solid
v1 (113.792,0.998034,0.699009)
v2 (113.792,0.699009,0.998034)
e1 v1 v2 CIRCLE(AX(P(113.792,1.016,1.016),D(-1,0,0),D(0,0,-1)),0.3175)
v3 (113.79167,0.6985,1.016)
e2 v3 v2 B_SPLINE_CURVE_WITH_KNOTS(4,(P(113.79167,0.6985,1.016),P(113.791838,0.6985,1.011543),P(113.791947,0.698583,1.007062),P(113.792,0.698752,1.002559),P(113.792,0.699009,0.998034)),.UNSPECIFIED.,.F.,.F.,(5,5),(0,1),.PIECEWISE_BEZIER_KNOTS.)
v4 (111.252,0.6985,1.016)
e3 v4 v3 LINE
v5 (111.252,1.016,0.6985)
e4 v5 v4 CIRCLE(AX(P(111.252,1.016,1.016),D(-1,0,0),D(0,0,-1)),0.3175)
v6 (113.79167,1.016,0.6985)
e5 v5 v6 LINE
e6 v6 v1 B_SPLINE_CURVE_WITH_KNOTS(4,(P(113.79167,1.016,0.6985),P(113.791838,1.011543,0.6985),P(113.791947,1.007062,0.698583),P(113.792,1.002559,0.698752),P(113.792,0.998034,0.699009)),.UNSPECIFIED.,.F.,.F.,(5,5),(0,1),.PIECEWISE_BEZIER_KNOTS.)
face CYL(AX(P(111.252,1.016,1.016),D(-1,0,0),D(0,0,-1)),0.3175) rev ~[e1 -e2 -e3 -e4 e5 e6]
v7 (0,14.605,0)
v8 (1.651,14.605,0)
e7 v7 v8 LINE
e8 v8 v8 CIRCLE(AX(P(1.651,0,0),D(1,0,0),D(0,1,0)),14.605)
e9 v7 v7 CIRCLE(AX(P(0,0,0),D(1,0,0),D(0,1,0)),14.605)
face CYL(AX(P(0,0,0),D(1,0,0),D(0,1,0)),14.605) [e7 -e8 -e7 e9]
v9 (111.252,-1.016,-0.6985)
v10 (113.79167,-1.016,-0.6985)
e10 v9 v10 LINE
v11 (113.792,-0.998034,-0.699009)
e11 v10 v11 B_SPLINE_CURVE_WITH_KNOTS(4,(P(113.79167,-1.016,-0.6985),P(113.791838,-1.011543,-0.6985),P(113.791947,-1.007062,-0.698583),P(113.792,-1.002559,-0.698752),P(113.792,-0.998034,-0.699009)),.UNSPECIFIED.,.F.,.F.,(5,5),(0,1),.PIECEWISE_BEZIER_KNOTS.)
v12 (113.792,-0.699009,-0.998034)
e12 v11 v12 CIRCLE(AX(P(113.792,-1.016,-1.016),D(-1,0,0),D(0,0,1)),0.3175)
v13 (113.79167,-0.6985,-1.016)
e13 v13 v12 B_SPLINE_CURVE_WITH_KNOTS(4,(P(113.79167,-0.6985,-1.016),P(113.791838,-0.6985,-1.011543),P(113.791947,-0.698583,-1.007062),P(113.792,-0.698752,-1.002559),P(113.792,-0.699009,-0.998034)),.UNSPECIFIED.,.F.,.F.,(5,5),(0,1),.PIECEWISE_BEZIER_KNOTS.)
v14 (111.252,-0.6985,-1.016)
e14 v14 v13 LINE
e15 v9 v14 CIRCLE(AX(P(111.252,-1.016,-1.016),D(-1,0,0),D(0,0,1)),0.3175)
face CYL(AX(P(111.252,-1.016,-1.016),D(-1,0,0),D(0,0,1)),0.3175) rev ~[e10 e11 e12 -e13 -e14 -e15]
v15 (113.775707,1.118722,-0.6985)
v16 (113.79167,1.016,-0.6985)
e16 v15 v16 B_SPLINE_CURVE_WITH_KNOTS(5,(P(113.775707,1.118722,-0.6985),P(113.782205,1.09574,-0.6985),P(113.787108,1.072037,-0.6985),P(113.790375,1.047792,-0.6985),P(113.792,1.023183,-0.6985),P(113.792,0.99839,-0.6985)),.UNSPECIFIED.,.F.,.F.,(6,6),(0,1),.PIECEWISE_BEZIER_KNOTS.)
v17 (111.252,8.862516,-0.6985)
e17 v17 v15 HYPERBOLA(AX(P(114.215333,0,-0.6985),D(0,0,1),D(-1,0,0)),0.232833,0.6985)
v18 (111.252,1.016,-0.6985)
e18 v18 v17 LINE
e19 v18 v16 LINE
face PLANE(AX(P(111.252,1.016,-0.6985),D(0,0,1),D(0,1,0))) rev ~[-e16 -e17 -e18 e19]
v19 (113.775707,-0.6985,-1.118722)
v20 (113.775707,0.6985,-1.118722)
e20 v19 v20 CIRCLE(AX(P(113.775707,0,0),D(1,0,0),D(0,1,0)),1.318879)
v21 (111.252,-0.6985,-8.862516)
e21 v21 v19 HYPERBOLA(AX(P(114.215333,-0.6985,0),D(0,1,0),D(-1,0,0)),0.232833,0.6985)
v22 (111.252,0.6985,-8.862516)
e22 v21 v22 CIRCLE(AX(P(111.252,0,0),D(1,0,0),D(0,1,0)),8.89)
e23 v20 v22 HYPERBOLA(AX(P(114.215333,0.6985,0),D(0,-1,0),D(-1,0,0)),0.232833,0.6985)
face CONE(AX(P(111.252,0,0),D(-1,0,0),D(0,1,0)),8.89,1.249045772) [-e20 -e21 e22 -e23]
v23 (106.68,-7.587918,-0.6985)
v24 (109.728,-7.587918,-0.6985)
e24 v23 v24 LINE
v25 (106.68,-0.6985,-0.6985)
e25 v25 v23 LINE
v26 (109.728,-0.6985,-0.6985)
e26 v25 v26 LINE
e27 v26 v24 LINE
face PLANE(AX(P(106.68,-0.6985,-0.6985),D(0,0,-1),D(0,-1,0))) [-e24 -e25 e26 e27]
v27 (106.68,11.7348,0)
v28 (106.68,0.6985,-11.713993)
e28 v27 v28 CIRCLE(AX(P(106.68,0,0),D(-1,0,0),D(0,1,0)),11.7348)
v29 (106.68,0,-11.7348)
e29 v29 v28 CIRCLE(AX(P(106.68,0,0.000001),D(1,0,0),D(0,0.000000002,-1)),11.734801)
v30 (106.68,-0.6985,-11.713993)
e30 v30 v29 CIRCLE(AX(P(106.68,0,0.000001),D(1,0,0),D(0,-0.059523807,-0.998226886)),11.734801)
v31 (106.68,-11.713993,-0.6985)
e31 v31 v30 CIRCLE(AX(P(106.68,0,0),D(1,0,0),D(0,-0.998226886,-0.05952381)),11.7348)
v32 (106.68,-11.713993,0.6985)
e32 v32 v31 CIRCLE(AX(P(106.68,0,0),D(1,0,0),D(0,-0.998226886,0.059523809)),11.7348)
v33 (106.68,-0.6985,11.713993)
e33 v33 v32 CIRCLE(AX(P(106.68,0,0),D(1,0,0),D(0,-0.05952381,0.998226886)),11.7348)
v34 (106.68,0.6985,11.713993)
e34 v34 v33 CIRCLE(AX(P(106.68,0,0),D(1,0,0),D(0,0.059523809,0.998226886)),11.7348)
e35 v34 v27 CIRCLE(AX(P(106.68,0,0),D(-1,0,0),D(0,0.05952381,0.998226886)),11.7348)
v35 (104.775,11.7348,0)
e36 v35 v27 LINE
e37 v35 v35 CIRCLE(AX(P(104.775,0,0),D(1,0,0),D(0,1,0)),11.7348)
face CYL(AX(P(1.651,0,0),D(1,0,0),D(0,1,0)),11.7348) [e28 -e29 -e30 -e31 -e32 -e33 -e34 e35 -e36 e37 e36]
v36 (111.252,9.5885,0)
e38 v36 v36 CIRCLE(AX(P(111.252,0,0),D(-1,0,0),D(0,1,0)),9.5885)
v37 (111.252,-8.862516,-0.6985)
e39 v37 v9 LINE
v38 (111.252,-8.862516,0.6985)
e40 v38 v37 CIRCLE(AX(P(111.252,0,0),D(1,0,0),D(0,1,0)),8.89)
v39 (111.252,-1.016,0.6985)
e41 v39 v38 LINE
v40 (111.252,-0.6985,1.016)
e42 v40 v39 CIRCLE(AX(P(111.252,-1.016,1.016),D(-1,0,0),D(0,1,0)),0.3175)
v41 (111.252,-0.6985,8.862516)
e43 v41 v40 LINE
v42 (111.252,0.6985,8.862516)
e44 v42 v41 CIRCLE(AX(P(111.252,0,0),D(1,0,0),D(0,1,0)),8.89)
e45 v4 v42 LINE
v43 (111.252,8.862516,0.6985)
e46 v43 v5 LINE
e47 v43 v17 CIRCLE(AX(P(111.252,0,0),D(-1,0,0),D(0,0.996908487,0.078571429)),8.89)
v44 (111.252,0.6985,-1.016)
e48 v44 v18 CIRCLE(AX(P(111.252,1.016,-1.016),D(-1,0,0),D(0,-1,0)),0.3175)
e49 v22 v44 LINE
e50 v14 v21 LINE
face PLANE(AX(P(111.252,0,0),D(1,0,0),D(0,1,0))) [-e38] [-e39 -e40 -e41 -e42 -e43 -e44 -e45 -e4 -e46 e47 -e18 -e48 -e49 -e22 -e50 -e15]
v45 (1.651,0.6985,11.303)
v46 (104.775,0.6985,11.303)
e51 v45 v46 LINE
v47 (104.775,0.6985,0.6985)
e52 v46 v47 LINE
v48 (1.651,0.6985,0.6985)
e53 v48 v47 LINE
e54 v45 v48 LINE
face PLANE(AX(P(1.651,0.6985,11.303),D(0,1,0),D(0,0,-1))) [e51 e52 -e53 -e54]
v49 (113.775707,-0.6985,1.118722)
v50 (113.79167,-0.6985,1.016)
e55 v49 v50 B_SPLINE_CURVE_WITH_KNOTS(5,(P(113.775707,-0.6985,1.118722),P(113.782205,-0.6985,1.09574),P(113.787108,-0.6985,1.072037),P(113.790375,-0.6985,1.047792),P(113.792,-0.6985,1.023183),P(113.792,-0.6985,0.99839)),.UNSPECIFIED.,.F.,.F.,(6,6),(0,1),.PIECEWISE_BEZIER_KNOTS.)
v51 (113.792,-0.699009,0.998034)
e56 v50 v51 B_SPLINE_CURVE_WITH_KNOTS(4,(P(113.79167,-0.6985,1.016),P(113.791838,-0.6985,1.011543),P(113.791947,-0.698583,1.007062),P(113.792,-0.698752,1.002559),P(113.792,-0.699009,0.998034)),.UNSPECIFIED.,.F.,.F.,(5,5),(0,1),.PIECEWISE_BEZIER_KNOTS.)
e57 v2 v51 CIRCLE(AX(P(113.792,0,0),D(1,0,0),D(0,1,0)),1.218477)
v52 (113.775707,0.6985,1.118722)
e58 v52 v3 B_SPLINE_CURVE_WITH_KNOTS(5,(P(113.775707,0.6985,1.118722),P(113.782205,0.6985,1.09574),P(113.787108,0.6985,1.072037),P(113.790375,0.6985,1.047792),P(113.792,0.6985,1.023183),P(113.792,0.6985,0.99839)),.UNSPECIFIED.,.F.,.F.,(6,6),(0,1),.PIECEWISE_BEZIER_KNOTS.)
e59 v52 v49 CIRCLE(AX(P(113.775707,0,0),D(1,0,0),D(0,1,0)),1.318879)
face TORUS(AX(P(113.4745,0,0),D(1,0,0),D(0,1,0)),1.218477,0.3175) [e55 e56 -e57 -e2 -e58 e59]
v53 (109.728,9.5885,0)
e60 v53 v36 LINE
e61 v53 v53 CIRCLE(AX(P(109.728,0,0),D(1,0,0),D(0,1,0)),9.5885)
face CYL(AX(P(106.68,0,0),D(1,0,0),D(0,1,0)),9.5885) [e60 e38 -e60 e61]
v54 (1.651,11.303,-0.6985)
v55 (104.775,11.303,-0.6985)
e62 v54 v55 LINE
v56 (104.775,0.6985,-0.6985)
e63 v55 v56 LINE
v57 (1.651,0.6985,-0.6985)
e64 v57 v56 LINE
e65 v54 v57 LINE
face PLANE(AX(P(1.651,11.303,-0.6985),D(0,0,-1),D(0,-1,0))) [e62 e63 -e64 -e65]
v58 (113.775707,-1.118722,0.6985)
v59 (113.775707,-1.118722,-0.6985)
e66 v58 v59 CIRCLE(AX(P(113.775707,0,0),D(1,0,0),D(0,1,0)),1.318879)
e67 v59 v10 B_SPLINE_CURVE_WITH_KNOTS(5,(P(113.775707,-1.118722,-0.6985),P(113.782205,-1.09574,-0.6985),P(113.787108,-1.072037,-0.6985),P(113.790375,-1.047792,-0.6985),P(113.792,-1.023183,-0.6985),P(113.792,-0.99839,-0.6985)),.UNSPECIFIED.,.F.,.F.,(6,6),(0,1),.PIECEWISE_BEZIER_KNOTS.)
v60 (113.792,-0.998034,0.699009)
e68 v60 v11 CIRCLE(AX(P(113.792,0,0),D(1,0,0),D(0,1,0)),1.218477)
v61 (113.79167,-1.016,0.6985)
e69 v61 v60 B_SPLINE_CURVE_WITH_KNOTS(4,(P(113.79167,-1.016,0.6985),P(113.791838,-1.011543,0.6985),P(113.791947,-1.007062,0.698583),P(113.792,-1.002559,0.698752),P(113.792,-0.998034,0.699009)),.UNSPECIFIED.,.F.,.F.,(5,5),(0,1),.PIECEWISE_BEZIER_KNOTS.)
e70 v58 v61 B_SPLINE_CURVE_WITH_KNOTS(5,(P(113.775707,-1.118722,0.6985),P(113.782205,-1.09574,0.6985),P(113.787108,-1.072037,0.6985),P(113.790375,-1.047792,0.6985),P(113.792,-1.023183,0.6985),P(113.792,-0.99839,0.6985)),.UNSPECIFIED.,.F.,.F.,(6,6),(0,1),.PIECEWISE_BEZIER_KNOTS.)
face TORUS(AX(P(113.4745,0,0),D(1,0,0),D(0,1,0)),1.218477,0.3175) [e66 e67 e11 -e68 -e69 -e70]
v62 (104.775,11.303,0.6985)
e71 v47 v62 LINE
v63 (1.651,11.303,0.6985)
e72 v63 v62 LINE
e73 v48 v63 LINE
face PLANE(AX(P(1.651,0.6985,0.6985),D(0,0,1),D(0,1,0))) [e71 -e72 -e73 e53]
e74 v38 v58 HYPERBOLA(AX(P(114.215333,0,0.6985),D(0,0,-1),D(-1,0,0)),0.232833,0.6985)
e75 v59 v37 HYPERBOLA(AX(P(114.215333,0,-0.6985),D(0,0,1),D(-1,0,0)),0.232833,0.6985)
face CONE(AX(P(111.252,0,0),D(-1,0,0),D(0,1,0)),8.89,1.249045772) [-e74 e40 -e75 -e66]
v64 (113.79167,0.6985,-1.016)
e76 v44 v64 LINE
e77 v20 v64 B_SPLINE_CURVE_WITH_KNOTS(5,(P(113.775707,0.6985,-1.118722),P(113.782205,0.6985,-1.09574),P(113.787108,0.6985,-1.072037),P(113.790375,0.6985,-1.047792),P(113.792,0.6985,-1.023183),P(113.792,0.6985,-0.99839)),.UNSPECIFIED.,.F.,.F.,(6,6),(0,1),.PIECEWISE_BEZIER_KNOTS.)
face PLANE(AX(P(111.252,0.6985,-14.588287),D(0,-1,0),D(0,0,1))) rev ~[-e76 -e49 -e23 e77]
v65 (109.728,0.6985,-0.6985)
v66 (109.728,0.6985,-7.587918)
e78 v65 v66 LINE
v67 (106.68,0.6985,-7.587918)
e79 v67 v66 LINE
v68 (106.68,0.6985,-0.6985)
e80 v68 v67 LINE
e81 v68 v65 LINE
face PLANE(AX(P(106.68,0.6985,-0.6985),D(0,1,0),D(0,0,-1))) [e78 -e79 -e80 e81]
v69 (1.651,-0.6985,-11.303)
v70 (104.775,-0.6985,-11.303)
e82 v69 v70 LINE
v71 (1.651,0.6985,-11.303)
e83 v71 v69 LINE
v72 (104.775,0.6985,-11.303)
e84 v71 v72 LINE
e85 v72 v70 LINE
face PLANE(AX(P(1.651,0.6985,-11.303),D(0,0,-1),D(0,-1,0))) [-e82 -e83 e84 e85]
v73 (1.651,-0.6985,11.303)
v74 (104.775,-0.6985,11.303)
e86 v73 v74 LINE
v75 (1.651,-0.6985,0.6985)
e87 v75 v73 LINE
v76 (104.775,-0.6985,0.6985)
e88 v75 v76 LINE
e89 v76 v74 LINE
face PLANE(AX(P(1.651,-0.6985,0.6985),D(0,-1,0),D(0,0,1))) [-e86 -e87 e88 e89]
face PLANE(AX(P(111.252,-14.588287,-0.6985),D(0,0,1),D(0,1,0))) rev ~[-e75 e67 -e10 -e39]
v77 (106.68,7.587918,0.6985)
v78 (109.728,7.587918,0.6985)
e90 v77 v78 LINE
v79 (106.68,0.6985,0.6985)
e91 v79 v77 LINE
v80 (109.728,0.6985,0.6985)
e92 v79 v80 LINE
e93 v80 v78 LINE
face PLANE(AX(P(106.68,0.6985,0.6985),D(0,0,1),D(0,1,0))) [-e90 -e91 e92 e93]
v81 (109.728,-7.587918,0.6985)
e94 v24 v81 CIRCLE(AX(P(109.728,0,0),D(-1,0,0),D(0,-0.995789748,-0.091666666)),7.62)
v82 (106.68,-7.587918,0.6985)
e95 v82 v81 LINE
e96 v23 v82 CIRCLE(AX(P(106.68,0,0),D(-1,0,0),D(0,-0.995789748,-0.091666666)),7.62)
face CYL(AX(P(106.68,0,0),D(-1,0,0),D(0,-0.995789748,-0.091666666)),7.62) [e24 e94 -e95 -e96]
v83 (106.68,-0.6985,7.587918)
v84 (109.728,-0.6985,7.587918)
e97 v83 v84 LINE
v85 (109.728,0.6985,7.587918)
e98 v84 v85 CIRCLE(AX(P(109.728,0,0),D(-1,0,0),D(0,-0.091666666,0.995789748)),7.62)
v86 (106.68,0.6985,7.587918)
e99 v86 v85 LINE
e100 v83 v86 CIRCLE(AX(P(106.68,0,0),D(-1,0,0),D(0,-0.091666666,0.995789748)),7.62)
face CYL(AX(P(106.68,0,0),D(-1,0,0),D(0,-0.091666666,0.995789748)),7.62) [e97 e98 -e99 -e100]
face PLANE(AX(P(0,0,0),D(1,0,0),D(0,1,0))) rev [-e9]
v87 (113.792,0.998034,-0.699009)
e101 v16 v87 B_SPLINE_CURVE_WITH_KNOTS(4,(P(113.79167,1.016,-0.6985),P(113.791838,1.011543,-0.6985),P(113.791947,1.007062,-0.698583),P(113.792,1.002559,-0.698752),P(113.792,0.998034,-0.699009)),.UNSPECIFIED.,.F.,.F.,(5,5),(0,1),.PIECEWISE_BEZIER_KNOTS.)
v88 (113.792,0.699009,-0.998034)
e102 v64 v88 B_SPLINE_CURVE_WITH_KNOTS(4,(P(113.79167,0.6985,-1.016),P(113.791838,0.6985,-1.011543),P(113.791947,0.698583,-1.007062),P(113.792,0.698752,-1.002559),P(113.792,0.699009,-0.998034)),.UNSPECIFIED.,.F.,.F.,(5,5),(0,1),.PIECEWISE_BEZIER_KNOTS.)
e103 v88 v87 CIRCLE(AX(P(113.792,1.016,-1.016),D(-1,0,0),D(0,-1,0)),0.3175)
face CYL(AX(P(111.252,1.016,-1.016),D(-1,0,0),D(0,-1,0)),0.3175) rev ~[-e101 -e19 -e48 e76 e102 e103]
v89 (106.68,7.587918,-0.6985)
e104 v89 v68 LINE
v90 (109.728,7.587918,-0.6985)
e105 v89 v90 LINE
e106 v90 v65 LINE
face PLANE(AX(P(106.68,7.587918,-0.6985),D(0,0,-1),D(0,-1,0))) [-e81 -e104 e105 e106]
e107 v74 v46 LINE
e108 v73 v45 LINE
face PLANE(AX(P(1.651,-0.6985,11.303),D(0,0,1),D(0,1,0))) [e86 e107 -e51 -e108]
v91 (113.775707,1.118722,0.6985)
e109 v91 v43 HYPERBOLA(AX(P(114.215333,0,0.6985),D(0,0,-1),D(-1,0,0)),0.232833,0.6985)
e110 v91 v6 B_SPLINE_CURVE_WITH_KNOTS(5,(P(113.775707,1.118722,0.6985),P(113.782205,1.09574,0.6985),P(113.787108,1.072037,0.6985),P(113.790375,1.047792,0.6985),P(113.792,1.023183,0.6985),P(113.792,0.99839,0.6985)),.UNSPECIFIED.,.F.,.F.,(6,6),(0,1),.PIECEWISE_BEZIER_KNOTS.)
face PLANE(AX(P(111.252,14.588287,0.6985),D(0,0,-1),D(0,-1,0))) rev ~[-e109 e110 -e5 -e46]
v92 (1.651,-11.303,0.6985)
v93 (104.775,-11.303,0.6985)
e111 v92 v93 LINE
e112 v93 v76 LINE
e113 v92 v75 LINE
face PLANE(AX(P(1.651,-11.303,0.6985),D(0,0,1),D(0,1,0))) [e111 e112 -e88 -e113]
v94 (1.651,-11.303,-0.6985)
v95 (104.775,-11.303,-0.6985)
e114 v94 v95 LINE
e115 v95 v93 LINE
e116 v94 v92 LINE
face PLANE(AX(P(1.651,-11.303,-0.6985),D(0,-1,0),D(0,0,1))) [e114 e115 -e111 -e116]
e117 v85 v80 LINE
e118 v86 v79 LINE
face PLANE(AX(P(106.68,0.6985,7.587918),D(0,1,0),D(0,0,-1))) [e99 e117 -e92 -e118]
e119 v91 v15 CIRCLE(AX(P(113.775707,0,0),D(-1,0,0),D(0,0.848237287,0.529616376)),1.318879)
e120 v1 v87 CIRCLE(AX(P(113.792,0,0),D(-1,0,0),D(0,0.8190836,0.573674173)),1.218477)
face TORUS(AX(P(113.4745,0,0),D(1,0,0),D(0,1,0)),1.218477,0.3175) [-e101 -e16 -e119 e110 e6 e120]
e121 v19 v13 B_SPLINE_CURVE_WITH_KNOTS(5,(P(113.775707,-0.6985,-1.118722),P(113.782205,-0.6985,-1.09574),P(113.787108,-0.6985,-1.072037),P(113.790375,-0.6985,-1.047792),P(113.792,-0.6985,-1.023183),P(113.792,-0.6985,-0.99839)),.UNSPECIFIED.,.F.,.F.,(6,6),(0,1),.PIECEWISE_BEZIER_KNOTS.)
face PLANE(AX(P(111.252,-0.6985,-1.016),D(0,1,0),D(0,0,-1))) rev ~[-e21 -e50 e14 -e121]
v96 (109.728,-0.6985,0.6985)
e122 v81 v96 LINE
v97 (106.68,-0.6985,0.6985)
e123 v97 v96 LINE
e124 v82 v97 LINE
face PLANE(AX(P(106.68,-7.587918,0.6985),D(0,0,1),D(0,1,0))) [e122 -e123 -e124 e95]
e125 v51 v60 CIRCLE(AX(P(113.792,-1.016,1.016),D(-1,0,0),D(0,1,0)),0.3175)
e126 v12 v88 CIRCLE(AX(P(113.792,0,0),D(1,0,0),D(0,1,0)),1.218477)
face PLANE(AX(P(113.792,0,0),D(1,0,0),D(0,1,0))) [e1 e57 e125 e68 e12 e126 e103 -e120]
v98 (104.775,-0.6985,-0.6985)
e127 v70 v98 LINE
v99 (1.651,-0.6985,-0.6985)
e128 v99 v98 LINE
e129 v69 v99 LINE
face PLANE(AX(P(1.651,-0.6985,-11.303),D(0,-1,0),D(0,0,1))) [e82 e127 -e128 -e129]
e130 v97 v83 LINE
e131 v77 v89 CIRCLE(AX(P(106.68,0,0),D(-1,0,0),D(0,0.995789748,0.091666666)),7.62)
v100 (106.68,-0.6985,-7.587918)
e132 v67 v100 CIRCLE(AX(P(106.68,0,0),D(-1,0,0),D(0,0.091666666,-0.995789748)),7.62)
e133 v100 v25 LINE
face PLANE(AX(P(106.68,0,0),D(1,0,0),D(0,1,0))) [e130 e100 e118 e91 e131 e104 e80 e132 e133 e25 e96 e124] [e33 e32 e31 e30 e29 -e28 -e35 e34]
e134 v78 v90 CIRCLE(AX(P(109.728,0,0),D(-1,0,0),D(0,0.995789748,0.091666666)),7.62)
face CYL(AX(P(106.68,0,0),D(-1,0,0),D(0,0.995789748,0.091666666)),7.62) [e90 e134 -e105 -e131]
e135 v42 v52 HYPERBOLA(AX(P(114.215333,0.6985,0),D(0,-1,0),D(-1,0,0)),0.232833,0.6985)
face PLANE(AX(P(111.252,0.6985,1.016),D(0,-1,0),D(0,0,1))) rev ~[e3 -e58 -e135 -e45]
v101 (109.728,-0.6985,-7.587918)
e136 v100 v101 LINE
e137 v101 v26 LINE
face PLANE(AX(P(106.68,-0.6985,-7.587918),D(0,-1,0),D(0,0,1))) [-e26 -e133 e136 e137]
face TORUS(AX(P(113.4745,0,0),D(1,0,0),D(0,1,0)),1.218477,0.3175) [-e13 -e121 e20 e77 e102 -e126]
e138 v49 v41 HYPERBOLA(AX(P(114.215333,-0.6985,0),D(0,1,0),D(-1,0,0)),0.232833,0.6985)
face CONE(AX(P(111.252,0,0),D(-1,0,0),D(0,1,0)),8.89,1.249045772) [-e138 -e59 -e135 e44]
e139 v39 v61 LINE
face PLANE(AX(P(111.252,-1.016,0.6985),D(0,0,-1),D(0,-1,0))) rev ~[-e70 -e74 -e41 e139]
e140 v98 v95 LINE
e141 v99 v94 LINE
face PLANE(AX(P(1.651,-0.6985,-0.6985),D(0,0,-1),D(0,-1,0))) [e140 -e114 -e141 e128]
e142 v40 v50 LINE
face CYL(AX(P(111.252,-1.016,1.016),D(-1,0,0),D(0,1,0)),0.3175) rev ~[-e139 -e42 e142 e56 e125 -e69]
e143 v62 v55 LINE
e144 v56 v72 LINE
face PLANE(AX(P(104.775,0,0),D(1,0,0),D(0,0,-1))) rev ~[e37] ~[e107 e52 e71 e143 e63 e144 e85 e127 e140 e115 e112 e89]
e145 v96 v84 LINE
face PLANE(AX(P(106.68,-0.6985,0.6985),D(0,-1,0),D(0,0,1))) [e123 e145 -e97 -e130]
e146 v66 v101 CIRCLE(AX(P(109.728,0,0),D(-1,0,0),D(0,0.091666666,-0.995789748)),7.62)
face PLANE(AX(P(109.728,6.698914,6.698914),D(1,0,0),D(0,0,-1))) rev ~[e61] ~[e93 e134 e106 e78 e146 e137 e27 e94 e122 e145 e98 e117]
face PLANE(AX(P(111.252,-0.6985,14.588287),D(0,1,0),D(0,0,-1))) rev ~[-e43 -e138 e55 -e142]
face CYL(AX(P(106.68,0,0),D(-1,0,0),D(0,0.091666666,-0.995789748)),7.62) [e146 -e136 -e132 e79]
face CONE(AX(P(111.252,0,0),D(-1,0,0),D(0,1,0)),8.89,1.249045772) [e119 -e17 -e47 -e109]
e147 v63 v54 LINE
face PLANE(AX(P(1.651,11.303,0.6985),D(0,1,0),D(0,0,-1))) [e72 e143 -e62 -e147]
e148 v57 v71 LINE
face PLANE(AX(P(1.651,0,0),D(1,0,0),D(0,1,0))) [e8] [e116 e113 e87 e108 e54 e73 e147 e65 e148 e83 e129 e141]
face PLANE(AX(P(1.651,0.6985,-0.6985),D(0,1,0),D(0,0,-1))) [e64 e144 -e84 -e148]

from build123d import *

# Parameters (mm, degrees)
SKETCH2_OUTSIDE_W                   = 55.422
SKETCH2_OUTSIDE_H                   = 55.422
CUT_EXTRUDE_PUSHER_SIDE_CROSS_DEPTH = 103.124
CUT_EXTRUDE_CROSS_2_DEPTH           = 3.048
SKETCH8_OUTSIDE_W                   = 55.422
SKETCH8_OUTSIDE_H                   = 55.422
CUT_EXTRUDE1_DEPTH                  = 3.54


with BuildPart() as part:
    # Sketch1 → Revolve: Main Body (revolve)
    with BuildSketch(Plane.XY):
        with BuildLine():
            Line((0, 0), (0, 14.605))
            Line((0, 14.605), (1.651, 14.605))
            Line((1.651, 14.605), (1.651, 11.7348))
            Line((1.651, 11.7348), (106.68, 11.7348))
            Line((106.68, 11.7348), (106.68, 9.5885))
            Line((106.68, 9.5885), (111.252, 9.5885))
            Line((111.252, 9.5885), (111.252, 8.89))
            Line((111.252, 8.89), (113.775706947, 1.318879159))
            ThreePointArc((113.775706947, 1.318879159), (113.787900268, 1.269334705), (113.792, 1.218476843))
            Line((113.792, 1.218476843), (113.792, 0))
            Line((113.792, 0), (0, 0))
        make_face()
    revolve(axis=Axis((-3.305576832, 0, 0), (1, 0, 0)))

    # Sketch2 outside → Cut-Extrude: Pusher Side Cross (cut)
    with BuildSketch(Plane(origin=(1.651, 0, 0), x_dir=(0, 0, -1), z_dir=(1, 0, 0))):
        Rectangle(SKETCH2_OUTSIDE_W, SKETCH2_OUTSIDE_H)
        Polygon((-0.6985, 11.303), (0.6985, 11.303), (0.6985, 0.6985), (11.303, 0.6985), (11.303, -0.6985), (0.6985, -0.6985), (0.6985, -11.303), (-0.6985, -11.303), (-0.6985, -0.6985), (-11.303, -0.6985), (-11.303, 0.6985), (-0.6985, 0.6985), align=None, mode=Mode.SUBTRACT)
    extrude(amount=CUT_EXTRUDE_PUSHER_SIDE_CROSS_DEPTH, mode=Mode.SUBTRACT)

    # Sketch3 → Cut-Extrude: Cross 2 (cut)
    with BuildSketch(Plane(origin=(106.68, 0, 0), x_dir=(0, 0, -1), z_dir=(1, 0, 0))):
        with BuildLine():
            Line((-11.713992863, 0.6985), (-9.563024103, 0.6985))
            ThreePointArc((-9.563024103, 0.6985), (-6.780093371, 6.780093371), (-0.6985, 9.563024103))
            Line((-0.6985, 9.563024103), (-0.6985, 11.713992863))
            ThreePointArc((-0.6985, 11.713992863), (-8.297756656, 8.297756656), (-11.713992863, 0.6985))
        make_face()
        with BuildLine():
            Line((0.6985, 11.713992863), (0.6985, 9.563024103))
            ThreePointArc((0.6985, 9.563024103), (6.780093371, 6.780093371), (9.563024103, 0.6985))
            Line((9.563024103, 0.6985), (11.713992863, 0.6985))
            ThreePointArc((11.713992863, 0.6985), (8.297756656, 8.297756656), (0.6985, 11.713992863))
        make_face()
        with BuildLine():
            ThreePointArc((9.563024103, -0.6985), (6.780093371, -6.780093371), (0.6985, -9.563024103))
            Line((0.6985, -9.563024103), (0.6985, -11.713992863))
            ThreePointArc((0.6985, -11.713992863), (8.297756656, -8.297756656), (11.713992863, -0.6985))
            Line((11.713992863, -0.6985), (9.563024103, -0.6985))
        make_face()
        with BuildLine():
            ThreePointArc((-0.6985, -9.563024103), (-6.780093371, -6.780093371), (-9.563024103, -0.6985))
            Line((-9.563024103, -0.6985), (-11.713992863, -0.6985))
            ThreePointArc((-11.713992863, -0.6985), (-8.297756656, -8.297756656), (-0.6985, -11.713992863))
            Line((-0.6985, -11.713992863), (-0.6985, -9.563024103))
        make_face()
        with BuildLine():
            Line((-9.563024103, 0.6985), (-7.58791788, 0.6985))
            Line((-7.58791788, 0.6985), (-0.6985, 0.6985))
            Line((-0.6985, 0.6985), (-0.6985, 7.58791788))
            Line((-0.6985, 7.58791788), (-0.6985, 9.563024103))
            ThreePointArc((-0.6985, 9.563024103), (-6.780093371, 6.780093371), (-9.563024103, 0.6985))
        make_face()
        with BuildLine():
            Line((0.6985, 9.563024103), (0.6985, 7.58791788))
            Line((0.6985, 7.58791788), (0.6985, 0.6985))
            Line((0.6985, 0.6985), (7.58791788, 0.6985))
            Line((7.58791788, 0.6985), (9.563024103, 0.6985))
            ThreePointArc((9.563024103, 0.6985), (6.780093371, 6.780093371), (0.6985, 9.563024103))
        make_face()
        with BuildLine():
            Line((0.6985, -7.58791788), (0.6985, -9.563024103))
            ThreePointArc((0.6985, -9.563024103), (6.780093371, -6.780093371), (9.563024103, -0.6985))
            Line((9.563024103, -0.6985), (7.58791788, -0.6985))
            Line((7.58791788, -0.6985), (0.6985, -0.6985))
            Line((0.6985, -0.6985), (0.6985, -7.58791788))
        make_face()
        with BuildLine():
            Line((-0.6985, -0.6985), (-7.58791788, -0.6985))
            Line((-7.58791788, -0.6985), (-9.563024103, -0.6985))
            ThreePointArc((-9.563024103, -0.6985), (-6.780093371, -6.780093371), (-0.6985, -9.563024103))
            Line((-0.6985, -9.563024103), (-0.6985, -7.58791788))
            Line((-0.6985, -7.58791788), (-0.6985, -0.6985))
        make_face()
        with BuildLine():
            Line((-0.6985, -7.58791788), (-0.6985, -9.563024103))
            ThreePointArc((-0.6985, -9.563024103), (0, -9.5885), (0.6985, -9.563024103))
            Line((0.6985, -9.563024103), (0.6985, -7.58791788))
            ThreePointArc((0.6985, -7.58791788), (0, -7.62), (-0.6985, -7.58791788))
        make_face()
        with BuildLine():
            Line((-0.6985, 9.563024103), (-0.6985, 7.58791788))
            ThreePointArc((-0.6985, 7.58791788), (0, 7.62), (0.6985, 7.58791788))
            Line((0.6985, 7.58791788), (0.6985, 9.563024103))
            ThreePointArc((0.6985, 9.563024103), (0, 9.5885), (-0.6985, 9.563024103))
        make_face()
        with BuildLine():
            Line((-0.6985, 11.713992863), (-0.6985, 9.563024103))
            ThreePointArc((-0.6985, 9.563024103), (0, 9.5885), (0.6985, 9.563024103))
            Line((0.6985, 9.563024103), (0.6985, 11.713992863))
            ThreePointArc((0.6985, 11.713992863), (0, 11.7348), (-0.6985, 11.713992863))
        make_face()
        with BuildLine():
            ThreePointArc((0.6985, -9.563024103), (0, -9.5885), (-0.6985, -9.563024103))
            Line((-0.6985, -9.563024103), (-0.6985, -11.713992863))
            ThreePointArc((-0.6985, -11.713992863), (0, -11.7348), (0.6985, -11.713992863))
            Line((0.6985, -11.713992863), (0.6985, -9.563024103))
        make_face()
        with BuildLine():
            Line((11.713992863, 0.6985), (9.563024103, 0.6985))
            ThreePointArc((9.563024103, 0.6985), (9.582128909, 0.349482214), (9.5885, 0))
            ThreePointArc((9.5885, 0), (9.582128909, -0.349482214), (9.563024103, -0.6985))
            Line((9.563024103, -0.6985), (11.713992863, -0.6985))
            ThreePointArc((11.713992863, -0.6985), (11.729597062, -0.349404918), (11.7348, 0))
            ThreePointArc((11.7348, 0), (11.729597062, 0.349404918), (11.713992863, 0.6985))
        make_face()
        with BuildLine():
            ThreePointArc((9.5885, 0), (9.582128909, 0.349482214), (9.563024103, 0.6985))
            Line((9.563024103, 0.6985), (7.58791788, 0.6985))
            ThreePointArc((7.58791788, 0.6985), (7.62, 0), (7.58791788, -0.6985))
            Line((7.58791788, -0.6985), (9.563024103, -0.6985))
            ThreePointArc((9.563024103, -0.6985), (9.582128909, -0.349482214), (9.5885, 0))
        make_face()
        with BuildLine():
            ThreePointArc((-7.58791788, -0.6985), (-7.62, 0), (-7.58791788, 0.6985))
            Line((-7.58791788, 0.6985), (-9.563024103, 0.6985))
            ThreePointArc((-9.563024103, 0.6985), (-9.5885, 0), (-9.563024103, -0.6985))
            Line((-9.563024103, -0.6985), (-7.58791788, -0.6985))
        make_face()
        with BuildLine():
            ThreePointArc((-9.563024103, -0.6985), (-9.5885, 0), (-9.563024103, 0.6985))
            Line((-9.563024103, 0.6985), (-11.713992863, 0.6985))
            ThreePointArc((-11.713992863, 0.6985), (-11.7348, 0), (-11.713992863, -0.6985))
            Line((-11.713992863, -0.6985), (-9.563024103, -0.6985))
        make_face()
    extrude(amount=CUT_EXTRUDE_CROSS_2_DEPTH, mode=Mode.SUBTRACT)

    # Sketch8 outside → Cut-Extrude1 (cut, through all)
    with BuildSketch(Plane(origin=(111.252, 0, 0), x_dir=(0, 0, -1), z_dir=(1, 0, 0))):
        Rectangle(SKETCH8_OUTSIDE_W, SKETCH8_OUTSIDE_H)
        with BuildLine():
            Line((-0.6985, -14.588287177), (0.6985, -14.588287177))
            Line((0.6985, -14.588287177), (0.6985, -1.016))
            ThreePointArc((0.6985, -1.016), (0.791493597, -0.791493597), (1.016, -0.6985))
            Line((1.016, -0.6985), (14.588287177, -0.6985))
            Line((14.588287177, -0.6985), (14.588287177, 0.6985))
            Line((14.588287177, 0.6985), (1.016, 0.6985))
            ThreePointArc((1.016, 0.6985), (0.791493597, 0.791493597), (0.6985, 1.016))
            Line((0.6985, 1.016), (0.6985, 14.588287177))
            Line((0.6985, 14.588287177), (-0.6985, 14.588287177))
            Line((-0.6985, 14.588287177), (-0.6985, 1.016))
            ThreePointArc((-0.6985, 1.016), (-0.791493597, 0.791493597), (-1.016, 0.6985))
            Line((-1.016, 0.6985), (-14.588287177, 0.6985))
            Line((-14.588287177, 0.6985), (-14.588287177, -0.6985))
            Line((-14.588287177, -0.6985), (-1.016, -0.6985))
            ThreePointArc((-1.016, -0.6985), (-0.791493597, -0.791493597), (-0.6985, -1.016))
            Line((-0.6985, -1.016), (-0.6985, -14.588287177))
        make_face(mode=Mode.SUBTRACT)
    extrude(amount=CUT_EXTRUDE1_DEPTH, mode=Mode.SUBTRACT)


solid = part.part
